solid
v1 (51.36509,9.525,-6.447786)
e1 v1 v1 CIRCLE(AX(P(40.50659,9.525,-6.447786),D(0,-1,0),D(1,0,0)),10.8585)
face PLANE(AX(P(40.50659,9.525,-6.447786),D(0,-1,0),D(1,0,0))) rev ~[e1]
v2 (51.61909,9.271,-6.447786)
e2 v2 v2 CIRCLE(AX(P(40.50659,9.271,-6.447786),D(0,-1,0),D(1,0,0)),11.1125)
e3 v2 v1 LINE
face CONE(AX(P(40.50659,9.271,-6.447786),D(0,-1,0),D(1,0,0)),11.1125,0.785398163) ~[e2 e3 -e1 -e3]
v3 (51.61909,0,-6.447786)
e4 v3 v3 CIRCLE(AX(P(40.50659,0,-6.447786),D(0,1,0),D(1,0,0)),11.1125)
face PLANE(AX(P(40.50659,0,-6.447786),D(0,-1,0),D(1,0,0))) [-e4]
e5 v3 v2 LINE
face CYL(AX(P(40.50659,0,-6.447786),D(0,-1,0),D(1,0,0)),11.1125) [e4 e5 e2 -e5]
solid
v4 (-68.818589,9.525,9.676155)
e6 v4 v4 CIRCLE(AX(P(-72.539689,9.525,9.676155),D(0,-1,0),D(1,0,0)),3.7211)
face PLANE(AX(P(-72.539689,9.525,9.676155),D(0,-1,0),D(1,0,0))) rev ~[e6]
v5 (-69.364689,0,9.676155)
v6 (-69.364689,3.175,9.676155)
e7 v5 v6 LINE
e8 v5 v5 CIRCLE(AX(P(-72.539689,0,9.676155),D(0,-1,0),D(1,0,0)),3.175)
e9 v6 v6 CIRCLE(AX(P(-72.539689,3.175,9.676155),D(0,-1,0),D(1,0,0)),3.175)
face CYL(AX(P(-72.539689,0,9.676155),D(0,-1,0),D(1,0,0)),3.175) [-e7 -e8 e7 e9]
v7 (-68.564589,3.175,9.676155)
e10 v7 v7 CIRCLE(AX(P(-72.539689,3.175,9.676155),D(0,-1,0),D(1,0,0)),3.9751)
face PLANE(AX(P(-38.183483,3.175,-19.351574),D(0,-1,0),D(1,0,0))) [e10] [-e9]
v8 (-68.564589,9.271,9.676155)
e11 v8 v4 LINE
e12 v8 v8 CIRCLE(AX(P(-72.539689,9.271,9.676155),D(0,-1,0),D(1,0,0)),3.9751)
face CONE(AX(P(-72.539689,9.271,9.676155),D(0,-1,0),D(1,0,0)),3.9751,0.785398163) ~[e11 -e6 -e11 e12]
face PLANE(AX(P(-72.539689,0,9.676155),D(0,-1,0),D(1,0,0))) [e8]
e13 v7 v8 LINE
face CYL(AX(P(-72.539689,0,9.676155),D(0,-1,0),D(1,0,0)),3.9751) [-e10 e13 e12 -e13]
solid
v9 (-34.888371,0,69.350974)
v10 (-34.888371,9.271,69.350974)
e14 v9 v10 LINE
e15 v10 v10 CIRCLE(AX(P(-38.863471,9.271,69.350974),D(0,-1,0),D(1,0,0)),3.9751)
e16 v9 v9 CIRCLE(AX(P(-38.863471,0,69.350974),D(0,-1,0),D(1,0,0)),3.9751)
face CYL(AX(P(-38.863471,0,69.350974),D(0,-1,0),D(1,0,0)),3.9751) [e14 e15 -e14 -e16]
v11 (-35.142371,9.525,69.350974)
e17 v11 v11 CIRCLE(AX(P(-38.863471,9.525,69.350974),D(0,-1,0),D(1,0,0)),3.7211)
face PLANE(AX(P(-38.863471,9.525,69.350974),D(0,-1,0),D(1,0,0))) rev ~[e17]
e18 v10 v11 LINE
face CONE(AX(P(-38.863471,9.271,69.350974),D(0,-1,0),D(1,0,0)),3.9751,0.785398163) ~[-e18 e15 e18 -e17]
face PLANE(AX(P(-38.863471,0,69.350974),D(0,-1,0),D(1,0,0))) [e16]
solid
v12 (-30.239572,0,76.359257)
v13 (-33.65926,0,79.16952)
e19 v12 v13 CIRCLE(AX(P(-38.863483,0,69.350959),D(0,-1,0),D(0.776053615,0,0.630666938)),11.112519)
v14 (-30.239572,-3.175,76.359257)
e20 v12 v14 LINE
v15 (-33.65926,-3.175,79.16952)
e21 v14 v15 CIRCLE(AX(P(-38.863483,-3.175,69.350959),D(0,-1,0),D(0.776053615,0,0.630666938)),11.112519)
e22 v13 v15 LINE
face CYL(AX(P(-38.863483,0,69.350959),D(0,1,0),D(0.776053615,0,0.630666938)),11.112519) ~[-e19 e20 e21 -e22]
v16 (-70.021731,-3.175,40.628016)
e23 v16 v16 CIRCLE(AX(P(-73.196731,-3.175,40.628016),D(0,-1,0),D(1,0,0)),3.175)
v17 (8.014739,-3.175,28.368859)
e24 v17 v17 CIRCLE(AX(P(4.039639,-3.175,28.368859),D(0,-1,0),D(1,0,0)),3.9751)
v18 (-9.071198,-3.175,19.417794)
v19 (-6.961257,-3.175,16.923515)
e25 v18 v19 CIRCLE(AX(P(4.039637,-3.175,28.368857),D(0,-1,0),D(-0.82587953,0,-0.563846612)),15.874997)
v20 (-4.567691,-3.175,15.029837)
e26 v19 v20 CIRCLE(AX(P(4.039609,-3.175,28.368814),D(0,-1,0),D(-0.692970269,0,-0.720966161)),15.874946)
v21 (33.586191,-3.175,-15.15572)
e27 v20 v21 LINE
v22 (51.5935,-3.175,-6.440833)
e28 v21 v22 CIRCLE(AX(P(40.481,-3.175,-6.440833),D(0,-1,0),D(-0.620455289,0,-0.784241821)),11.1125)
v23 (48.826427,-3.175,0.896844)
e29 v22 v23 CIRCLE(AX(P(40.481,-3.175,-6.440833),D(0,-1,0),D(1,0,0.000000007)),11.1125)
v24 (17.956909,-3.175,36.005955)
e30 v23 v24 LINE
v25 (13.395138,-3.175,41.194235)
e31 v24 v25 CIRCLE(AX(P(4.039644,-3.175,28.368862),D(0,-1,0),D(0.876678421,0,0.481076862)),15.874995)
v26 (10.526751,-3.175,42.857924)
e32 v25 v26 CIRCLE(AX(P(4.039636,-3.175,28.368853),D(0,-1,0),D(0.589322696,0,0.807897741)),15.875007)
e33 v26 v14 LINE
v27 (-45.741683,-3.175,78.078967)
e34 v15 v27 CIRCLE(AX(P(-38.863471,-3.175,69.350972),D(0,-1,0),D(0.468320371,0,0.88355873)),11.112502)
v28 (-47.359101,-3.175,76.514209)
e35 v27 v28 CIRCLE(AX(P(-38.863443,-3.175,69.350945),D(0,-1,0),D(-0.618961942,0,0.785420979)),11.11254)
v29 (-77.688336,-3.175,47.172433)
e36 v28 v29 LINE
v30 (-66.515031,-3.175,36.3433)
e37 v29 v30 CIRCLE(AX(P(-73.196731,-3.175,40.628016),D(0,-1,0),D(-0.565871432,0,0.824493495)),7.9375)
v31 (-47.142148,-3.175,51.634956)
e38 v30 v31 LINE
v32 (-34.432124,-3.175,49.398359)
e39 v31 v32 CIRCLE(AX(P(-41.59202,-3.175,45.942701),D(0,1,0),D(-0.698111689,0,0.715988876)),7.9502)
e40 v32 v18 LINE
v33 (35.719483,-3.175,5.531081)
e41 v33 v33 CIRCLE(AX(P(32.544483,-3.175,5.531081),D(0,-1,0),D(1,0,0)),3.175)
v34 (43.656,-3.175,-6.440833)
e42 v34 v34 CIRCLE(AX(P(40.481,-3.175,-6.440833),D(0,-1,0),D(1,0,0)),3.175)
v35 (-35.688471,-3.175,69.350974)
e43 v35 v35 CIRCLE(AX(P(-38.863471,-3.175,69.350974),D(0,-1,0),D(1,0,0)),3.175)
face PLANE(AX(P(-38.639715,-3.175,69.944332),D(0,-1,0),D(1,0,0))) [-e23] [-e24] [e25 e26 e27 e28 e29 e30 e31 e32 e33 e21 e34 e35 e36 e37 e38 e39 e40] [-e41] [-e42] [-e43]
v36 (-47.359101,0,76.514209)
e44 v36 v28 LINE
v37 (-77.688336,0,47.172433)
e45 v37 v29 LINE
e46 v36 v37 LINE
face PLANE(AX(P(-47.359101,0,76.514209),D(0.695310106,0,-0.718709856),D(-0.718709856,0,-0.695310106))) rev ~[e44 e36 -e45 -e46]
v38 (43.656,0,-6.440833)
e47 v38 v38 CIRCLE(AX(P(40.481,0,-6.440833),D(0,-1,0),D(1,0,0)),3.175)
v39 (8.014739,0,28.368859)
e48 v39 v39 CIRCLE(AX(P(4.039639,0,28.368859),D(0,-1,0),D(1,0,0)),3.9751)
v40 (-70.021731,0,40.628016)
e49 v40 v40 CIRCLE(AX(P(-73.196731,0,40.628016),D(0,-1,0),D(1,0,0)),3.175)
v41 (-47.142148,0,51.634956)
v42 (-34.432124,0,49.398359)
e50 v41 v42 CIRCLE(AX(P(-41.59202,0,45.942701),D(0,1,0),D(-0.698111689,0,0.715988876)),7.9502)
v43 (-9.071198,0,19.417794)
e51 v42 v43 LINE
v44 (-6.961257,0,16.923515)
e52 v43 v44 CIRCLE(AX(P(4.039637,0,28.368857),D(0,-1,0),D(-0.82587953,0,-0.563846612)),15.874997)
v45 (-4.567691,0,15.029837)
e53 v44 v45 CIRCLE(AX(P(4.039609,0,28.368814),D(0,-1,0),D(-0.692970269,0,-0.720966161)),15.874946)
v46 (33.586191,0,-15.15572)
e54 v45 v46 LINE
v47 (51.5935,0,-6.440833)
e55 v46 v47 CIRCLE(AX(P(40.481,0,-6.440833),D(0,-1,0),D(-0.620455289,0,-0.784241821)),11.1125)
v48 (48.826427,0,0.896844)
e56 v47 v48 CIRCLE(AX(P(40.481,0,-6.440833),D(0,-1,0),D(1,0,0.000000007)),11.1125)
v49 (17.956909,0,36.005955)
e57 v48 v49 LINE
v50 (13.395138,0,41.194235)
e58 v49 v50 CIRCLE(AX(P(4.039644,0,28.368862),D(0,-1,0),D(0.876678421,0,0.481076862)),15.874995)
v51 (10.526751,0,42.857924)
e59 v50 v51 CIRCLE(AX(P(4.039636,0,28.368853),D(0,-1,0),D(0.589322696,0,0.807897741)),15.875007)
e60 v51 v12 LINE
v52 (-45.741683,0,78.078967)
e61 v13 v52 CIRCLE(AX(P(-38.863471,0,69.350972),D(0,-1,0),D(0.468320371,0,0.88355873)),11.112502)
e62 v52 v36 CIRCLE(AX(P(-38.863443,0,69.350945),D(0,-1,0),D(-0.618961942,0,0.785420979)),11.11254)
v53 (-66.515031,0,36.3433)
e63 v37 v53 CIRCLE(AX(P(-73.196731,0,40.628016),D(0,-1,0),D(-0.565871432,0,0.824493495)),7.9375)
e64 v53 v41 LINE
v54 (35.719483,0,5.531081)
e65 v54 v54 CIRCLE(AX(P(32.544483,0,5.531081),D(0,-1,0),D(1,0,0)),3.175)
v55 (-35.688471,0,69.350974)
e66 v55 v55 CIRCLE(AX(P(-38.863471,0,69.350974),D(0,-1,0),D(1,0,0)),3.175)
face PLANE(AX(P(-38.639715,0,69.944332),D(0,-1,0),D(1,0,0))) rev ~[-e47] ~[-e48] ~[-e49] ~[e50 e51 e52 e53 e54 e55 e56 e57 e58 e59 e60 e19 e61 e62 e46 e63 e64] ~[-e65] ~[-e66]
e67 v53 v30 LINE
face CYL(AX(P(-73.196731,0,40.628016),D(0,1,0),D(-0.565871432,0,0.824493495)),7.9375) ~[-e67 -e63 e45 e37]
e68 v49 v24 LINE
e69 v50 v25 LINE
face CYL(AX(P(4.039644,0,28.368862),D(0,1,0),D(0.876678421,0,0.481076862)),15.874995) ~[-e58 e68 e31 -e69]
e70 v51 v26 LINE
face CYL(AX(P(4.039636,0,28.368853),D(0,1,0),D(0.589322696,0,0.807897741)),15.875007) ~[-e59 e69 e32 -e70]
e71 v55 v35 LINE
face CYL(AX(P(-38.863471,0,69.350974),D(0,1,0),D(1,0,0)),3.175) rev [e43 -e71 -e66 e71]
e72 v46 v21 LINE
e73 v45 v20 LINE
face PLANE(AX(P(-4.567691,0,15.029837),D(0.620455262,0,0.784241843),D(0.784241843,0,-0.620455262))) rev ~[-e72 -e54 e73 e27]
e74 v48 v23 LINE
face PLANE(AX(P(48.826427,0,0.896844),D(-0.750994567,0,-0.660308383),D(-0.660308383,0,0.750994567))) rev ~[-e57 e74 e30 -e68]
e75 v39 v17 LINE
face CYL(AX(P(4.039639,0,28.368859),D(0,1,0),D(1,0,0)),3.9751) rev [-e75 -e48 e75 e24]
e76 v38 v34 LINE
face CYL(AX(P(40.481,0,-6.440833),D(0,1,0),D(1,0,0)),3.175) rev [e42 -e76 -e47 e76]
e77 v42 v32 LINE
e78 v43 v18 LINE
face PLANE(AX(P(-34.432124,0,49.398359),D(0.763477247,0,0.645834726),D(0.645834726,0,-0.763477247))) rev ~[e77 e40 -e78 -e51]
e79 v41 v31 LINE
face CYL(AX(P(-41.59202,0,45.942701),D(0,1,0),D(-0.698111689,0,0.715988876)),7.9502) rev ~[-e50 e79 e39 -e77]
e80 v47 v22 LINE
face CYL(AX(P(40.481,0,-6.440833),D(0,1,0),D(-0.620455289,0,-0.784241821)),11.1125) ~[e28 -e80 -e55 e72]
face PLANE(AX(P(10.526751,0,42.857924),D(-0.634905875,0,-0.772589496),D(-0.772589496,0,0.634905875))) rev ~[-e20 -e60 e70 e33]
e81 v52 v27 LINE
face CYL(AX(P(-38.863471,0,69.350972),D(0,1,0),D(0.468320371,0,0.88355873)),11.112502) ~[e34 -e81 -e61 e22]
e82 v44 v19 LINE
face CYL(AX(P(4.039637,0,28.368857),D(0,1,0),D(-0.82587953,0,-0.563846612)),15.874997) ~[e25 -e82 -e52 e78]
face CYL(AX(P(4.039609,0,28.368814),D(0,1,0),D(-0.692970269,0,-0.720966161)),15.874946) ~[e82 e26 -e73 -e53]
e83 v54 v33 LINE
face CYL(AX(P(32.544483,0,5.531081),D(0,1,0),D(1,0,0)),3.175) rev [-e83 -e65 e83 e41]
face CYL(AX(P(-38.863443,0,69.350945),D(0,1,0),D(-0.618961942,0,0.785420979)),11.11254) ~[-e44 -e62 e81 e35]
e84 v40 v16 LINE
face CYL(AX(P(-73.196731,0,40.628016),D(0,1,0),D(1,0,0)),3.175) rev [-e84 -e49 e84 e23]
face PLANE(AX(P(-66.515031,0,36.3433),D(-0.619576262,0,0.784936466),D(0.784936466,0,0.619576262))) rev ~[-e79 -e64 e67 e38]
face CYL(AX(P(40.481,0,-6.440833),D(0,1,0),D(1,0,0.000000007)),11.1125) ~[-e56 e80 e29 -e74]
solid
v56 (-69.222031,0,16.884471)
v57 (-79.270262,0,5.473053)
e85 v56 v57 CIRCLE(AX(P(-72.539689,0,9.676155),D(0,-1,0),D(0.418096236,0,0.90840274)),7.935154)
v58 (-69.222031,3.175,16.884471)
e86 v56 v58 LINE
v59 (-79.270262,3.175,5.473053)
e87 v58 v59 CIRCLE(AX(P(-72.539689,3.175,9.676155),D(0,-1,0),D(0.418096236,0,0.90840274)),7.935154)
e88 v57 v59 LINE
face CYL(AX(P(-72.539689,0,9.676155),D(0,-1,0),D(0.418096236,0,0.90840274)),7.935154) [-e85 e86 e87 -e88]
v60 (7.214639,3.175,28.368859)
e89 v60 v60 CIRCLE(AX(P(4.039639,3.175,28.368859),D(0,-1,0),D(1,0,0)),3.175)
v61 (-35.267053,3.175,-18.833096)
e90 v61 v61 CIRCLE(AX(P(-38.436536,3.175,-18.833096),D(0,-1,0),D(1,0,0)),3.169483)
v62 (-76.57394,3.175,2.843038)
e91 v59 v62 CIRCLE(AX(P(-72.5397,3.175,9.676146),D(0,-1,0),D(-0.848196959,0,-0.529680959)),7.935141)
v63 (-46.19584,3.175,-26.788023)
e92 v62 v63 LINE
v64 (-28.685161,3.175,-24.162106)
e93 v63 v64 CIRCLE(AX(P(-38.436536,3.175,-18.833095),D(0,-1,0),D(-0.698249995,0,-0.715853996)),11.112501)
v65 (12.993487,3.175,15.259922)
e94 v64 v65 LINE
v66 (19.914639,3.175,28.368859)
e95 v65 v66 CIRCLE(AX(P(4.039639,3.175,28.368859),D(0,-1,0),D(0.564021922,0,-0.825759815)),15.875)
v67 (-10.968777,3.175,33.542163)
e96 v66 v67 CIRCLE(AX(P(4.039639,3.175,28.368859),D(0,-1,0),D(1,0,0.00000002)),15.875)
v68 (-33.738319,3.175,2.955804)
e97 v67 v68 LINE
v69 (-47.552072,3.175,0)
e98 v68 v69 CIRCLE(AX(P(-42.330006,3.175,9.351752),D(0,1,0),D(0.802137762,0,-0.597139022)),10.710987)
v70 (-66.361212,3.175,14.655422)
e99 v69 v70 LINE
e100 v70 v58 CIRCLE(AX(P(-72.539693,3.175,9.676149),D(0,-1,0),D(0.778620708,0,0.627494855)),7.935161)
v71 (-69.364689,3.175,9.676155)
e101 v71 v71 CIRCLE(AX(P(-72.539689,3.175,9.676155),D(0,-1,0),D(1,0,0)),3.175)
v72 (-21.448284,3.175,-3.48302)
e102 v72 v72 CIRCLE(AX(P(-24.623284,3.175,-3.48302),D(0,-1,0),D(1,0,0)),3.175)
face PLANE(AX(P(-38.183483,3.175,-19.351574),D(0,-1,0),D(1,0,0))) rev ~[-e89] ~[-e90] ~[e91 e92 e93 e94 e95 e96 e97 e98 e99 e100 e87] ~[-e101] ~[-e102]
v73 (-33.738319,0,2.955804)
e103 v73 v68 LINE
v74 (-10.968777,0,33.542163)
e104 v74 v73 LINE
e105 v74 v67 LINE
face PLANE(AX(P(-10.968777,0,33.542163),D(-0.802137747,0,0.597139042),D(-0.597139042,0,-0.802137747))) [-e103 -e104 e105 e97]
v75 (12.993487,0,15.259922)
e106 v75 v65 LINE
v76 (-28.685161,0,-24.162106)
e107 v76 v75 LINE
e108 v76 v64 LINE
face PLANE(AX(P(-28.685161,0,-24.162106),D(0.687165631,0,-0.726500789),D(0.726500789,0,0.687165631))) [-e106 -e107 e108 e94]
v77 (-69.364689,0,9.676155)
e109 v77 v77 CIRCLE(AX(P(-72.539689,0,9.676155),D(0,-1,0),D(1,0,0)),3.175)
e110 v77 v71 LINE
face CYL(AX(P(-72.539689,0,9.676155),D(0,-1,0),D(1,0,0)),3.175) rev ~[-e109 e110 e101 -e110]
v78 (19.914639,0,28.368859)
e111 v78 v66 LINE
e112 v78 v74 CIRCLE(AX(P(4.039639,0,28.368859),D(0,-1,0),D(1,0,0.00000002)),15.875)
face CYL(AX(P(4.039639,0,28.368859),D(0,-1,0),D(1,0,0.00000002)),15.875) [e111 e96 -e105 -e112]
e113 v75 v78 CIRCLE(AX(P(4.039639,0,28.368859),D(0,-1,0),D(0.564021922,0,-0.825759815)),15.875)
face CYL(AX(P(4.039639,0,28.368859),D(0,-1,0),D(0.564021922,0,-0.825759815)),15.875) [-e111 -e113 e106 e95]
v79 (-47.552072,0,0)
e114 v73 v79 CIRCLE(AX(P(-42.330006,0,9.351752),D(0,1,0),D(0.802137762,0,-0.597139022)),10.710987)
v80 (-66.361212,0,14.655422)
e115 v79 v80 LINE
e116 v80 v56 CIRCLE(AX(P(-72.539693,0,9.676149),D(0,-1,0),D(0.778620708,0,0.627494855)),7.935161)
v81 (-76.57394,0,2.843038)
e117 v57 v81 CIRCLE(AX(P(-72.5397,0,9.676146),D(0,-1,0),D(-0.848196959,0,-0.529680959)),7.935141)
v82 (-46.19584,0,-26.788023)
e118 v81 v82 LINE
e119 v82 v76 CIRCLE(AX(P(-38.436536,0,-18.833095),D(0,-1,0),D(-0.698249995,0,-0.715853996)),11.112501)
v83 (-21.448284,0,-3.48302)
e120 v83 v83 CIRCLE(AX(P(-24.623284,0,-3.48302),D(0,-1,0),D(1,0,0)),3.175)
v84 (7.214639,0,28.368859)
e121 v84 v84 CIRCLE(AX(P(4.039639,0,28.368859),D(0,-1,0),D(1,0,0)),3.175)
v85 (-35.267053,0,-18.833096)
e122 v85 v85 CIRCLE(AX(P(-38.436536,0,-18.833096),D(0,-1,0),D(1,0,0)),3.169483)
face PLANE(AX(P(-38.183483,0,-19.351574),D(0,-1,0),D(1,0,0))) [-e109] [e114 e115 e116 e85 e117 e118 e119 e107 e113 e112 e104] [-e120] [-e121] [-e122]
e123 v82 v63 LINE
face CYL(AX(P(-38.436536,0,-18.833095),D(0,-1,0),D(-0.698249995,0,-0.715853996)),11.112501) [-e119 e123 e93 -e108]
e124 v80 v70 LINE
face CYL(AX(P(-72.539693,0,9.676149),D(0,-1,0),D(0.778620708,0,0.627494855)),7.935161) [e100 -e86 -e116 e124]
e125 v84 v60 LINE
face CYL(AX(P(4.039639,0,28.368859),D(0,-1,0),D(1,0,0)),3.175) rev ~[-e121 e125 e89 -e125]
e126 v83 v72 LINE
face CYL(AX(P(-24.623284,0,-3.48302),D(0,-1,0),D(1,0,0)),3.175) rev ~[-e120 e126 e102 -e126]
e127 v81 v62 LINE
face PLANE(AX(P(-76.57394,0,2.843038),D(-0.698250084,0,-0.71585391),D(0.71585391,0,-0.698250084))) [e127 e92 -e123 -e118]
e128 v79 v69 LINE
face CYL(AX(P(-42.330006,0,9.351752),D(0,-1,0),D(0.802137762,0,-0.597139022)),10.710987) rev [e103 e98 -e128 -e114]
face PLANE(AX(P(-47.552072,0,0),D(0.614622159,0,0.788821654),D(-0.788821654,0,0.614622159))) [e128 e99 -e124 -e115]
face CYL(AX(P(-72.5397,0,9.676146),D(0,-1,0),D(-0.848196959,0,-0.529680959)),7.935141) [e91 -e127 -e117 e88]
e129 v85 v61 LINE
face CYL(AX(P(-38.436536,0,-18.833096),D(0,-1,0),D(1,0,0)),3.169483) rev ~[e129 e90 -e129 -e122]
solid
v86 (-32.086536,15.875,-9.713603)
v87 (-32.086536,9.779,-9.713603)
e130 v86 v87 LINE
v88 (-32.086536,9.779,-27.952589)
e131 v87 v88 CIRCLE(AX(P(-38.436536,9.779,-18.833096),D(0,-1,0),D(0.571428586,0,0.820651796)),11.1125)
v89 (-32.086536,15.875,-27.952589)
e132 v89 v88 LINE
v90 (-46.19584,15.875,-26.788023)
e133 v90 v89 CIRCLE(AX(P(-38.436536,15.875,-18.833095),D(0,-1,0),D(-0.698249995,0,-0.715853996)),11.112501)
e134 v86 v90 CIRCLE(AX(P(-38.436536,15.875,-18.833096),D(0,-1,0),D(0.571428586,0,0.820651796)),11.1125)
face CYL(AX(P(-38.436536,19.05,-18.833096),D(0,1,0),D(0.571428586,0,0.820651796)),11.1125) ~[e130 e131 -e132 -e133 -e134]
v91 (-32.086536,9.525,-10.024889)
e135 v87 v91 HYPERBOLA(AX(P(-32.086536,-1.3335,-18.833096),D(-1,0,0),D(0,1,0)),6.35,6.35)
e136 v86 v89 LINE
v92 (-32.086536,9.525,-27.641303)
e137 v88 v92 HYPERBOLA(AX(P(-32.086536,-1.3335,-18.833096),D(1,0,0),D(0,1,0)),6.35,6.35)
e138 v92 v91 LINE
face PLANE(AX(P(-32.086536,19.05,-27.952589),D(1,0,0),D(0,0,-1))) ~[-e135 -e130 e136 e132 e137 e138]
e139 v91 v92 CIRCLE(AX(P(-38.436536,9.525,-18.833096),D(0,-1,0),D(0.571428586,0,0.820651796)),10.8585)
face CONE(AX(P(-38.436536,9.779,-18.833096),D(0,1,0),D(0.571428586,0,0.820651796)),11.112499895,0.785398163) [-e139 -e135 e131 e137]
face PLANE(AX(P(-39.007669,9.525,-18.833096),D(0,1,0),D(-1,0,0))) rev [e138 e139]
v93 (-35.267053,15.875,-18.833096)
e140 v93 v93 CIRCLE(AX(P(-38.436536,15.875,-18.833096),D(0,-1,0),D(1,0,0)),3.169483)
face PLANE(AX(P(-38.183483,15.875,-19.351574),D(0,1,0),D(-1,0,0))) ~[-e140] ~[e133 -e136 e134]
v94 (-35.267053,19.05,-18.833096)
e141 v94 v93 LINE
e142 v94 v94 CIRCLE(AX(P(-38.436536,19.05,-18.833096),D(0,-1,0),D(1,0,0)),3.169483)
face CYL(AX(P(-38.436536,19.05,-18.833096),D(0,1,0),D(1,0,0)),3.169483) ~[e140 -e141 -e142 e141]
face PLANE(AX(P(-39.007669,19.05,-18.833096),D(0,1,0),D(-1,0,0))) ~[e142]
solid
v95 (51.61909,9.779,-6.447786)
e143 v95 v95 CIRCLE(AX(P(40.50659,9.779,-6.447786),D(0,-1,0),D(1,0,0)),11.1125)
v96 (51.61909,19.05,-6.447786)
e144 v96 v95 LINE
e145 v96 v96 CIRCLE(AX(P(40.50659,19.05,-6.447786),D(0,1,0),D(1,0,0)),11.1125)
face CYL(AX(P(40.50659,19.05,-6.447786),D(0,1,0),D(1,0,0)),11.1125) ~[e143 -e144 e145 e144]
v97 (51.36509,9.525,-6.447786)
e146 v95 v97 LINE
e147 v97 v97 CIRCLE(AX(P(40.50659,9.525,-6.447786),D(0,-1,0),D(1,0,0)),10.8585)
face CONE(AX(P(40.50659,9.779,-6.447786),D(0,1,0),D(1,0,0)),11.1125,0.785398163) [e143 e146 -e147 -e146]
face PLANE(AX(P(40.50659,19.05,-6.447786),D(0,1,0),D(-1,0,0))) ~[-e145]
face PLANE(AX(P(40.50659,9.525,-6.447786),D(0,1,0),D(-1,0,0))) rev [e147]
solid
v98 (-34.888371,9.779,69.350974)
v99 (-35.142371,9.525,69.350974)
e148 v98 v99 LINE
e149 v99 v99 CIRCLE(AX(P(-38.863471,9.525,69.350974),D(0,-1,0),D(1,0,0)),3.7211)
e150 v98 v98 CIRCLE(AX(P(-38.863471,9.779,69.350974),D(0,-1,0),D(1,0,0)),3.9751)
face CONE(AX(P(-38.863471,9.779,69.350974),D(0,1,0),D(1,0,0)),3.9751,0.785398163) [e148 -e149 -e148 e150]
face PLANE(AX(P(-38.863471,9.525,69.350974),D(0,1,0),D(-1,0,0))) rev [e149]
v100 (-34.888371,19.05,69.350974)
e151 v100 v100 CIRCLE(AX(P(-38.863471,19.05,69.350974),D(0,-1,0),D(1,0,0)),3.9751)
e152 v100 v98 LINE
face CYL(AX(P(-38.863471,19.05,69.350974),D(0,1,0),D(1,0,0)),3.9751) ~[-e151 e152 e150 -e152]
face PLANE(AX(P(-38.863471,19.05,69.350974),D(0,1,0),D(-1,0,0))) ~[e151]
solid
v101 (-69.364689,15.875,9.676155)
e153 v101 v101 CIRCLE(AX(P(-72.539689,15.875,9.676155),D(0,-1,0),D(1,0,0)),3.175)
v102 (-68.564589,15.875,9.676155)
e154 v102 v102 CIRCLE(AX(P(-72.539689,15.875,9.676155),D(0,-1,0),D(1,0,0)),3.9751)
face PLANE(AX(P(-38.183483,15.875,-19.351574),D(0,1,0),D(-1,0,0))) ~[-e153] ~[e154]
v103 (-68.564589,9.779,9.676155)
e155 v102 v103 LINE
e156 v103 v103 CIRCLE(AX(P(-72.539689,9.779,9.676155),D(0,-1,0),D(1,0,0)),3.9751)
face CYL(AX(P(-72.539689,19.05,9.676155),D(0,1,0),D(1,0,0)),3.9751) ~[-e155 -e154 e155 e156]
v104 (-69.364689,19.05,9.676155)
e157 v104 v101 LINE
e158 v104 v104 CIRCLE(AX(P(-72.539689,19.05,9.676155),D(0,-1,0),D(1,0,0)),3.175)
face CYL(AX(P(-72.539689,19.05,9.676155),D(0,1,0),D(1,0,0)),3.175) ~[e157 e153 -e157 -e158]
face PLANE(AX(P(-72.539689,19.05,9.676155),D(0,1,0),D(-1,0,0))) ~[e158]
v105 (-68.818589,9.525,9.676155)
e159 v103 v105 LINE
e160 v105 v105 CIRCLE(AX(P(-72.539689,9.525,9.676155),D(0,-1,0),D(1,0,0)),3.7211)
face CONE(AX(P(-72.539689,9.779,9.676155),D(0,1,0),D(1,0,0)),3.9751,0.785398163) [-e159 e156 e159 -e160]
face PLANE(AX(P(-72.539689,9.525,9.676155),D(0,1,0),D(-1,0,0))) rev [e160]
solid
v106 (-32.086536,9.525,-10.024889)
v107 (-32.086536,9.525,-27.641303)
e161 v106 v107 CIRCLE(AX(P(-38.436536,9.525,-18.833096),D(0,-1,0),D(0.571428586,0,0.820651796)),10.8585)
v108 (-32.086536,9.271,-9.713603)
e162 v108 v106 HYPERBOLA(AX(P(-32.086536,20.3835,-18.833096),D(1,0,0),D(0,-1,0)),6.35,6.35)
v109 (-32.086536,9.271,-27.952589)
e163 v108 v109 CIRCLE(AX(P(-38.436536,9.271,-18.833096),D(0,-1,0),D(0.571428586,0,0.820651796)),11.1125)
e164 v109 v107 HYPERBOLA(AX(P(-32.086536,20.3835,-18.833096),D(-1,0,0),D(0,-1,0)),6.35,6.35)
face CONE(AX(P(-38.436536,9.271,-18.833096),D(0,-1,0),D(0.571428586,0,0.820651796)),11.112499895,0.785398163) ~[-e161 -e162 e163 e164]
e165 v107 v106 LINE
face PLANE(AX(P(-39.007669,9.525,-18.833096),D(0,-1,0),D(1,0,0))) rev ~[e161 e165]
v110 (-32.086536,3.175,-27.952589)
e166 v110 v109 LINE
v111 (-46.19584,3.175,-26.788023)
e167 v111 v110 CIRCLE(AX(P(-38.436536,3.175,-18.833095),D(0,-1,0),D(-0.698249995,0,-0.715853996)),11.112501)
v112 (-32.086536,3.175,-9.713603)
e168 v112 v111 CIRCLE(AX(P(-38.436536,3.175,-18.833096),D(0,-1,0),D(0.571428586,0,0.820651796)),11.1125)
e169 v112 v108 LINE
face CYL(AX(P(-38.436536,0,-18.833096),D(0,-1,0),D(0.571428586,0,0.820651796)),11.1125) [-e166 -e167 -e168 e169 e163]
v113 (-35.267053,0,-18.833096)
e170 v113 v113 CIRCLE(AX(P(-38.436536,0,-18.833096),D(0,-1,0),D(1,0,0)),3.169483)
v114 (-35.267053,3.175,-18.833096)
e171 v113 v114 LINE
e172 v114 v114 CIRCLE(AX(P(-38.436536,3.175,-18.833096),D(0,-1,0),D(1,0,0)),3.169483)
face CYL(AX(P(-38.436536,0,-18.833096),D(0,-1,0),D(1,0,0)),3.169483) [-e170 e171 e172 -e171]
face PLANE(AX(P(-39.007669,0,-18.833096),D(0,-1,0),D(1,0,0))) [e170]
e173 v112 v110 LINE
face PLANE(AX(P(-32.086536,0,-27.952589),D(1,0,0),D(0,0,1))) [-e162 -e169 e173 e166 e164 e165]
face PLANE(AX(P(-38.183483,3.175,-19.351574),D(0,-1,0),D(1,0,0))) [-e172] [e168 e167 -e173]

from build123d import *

# Parameters (mm, degrees)
F0_R     = 3.175
F0_R_2   = 3.9751
F2_DEPTH = 3.175
F1_R     = 3.169483
F1_R_2   = 3.175
F3_DEPTH = 3.175
F4_R     = 3.9751
F4_R_2   = 11.1125
F6_DEPTH = 9.525
F8_SIZE  = 0.254


with BuildPart() as f2:
    # F0 (on Front) → F2 (new body)
    with BuildSketch(Plane.XZ):
        with BuildLine():
            Line((-30.239572, 76.359257), (-33.65926, 79.16952))
            ThreePointArc((-33.65926, 79.16952), (-39.862419, 80.418483), (-45.741683, 78.078967))
            Line((-45.741683, 78.078967), (-47.359101, 76.514209))
            ThreePointArc((-47.359101, 76.514209), (-42.676604, 58.913174), (-27.750971, 69.350974))
            ThreePointArc((-27.750971, 69.350974), (-28.391587, 73.069481), (-30.239572, 76.359257))
        make_face()
        with Locations((-38.863471, 69.350974)):
            Circle(F0_R, mode=Mode.SUBTRACT)
        with BuildLine():
            ThreePointArc((-30.239572, 76.359257), (-31.80808, 77.936375), (-33.65926, 79.16952))
            Line((-33.65926, 79.16952), (-30.239572, 76.359257))
        make_face()
        with BuildLine():
            Line((-47.359101, 76.514209), (-45.741683, 78.078967))
            ThreePointArc((-45.741683, 78.078967), (-46.590105, 77.337637), (-47.359101, 76.514209))
        make_face()
        with BuildLine():
            Line((10.526751, 42.857924), (-30.239572, 76.359257))
            ThreePointArc((-30.239572, 76.359257), (-28.391587, 73.069481), (-27.750971, 69.350974))
            ThreePointArc((-27.750971, 69.350974), (-42.676604, 58.913174), (-47.359101, 76.514209))
            Line((-47.359101, 76.514209), (-77.688336, 47.172433))
            ThreePointArc((-77.688336, 47.172433), (-69.498637, 47.651406), (-65.259231, 40.628016))
            ThreePointArc((-65.259231, 40.628016), (-65.579648, 38.395538), (-66.515031, 36.3433))
            Line((-66.515031, 36.3433), (-47.142148, 51.634956))
            ThreePointArc((-47.142148, 51.634956), (-40.214185, 53.772596), (-34.432124, 49.398359))
            Line((-34.432124, 49.398359), (-9.071198, 19.417794))
            ThreePointArc((-9.071198, 19.417794), (-8.139374, 38.551554), (10.526751, 42.857924))
        make_face()
        with BuildLine():
            ThreePointArc((13.395138, 41.194235), (12.004502, 42.101178), (10.526751, 42.857924))
            ThreePointArc((10.526751, 42.857924), (-8.139374, 38.551554), (-9.071198, 19.417794))
            Line((-9.071198, 19.417794), (-6.961257, 16.923515))
            Line((-6.961257, 16.923515), (-4.567691, 15.029837))
            ThreePointArc((-4.567691, 15.029837), (11.634844, 14.428684), (19.914639, 28.368859))
            ThreePointArc((19.914639, 28.368859), (19.41742, 32.310874), (17.956909, 36.005955))
            Line((17.956909, 36.005955), (13.395138, 41.194235))
        make_face()
        with Locations((4.039639, 28.368859)):
            Circle(F0_R_2, mode=Mode.SUBTRACT)
        with BuildLine():
            ThreePointArc((-65.259231, 40.628016), (-69.498637, 47.651406), (-77.688336, 47.172433))
            ThreePointArc((-77.688336, 47.172433), (-78.72092, 34.928257), (-66.515031, 36.3433))
            ThreePointArc((-66.515031, 36.3433), (-65.579648, 38.395538), (-65.259231, 40.628016))
        make_face()
        with Locations((-73.196731, 40.628016)):
            Circle(F0_R, mode=Mode.SUBTRACT)
        with BuildLine():
            ThreePointArc((17.956909, 36.005955), (15.961678, 38.851255), (13.395138, 41.194235))
            Line((13.395138, 41.194235), (17.956909, 36.005955))
        make_face()
        with BuildLine():
            Line((-6.961257, 16.923515), (-9.071198, 19.417794))
            ThreePointArc((-9.071198, 19.417794), (-8.080562, 18.116233), (-6.961257, 16.923515))
        make_face()
        with BuildLine():
            Line((48.826427, 0.896844), (17.956909, 36.005955))
            ThreePointArc((17.956909, 36.005955), (19.41742, 32.310874), (19.914639, 28.368859))
            ThreePointArc((19.914639, 28.368859), (11.634844, 14.428684), (-4.567691, 15.029837))
            Line((-4.567691, 15.029837), (33.586191, -15.15572))
            ThreePointArc((33.586191, -15.15572), (32.422013, 1.210336), (48.826427, 0.896844))
        make_face()
        with Locations((32.544483, 5.531081)):
            Circle(F0_R, mode=Mode.SUBTRACT)
        with BuildLine():
            Line((-4.567691, 15.029837), (-6.961257, 16.923515))
            ThreePointArc((-6.961257, 16.923515), (-5.810089, 15.91902), (-4.567691, 15.029837))
        make_face()
        with BuildLine():
            ThreePointArc((51.5935, -6.440833), (50.878745, -2.519793), (48.826427, 0.896844))
            ThreePointArc((48.826427, 0.896844), (32.422013, 1.210336), (33.586191, -15.15572))
            ThreePointArc((33.586191, -15.15572), (45.321924, -16.443488), (51.5935, -6.440833))
        make_face()
        with Locations((40.481, -6.440833)):
            Circle(F0_R, mode=Mode.SUBTRACT)
    extrude(amount=F2_DEPTH)


with BuildPart() as f3:
    # F1 (on Front) → F3 (new body)
    with BuildSketch(Plane.XZ):
        with BuildLine():
            ThreePointArc((-28.685161, -24.162106), (-27.669693, -21.583142), (-27.324036, -18.833096))
            ThreePointArc((-27.324036, -18.833096), (-42.752923, -8.593152), (-46.19584, -26.788023))
            ThreePointArc((-46.19584, -26.788023), (-36.788523, -29.822714), (-28.685161, -24.162106))
        make_face()
        with Locations((-38.436536, -18.833096)):
            Circle(F1_R, mode=Mode.SUBTRACT)
        with BuildLine():
            ThreePointArc((-46.19584, -26.788023), (-42.752923, -8.593152), (-27.324036, -18.833096))
            ThreePointArc((-27.324036, -18.833096), (-27.669693, -21.583142), (-28.685161, -24.162106))
            Line((-28.685161, -24.162106), (12.993487, 15.259922))
            ThreePointArc((12.993487, 15.259922), (-5.589719, 15.747802), (-10.968777, 33.542163))
            Line((-10.968777, 33.542163), (-33.738319, 2.955804))
            ThreePointArc((-33.738319, 2.955804), (-40.08885, -1.122142), (-47.552072, 0))
            Line((-47.552072, 0), (-66.361212, 14.655422))
            ThreePointArc((-66.361212, 14.655422), (-65.05658, 12.316184), (-64.604535, 9.676155))
            ThreePointArc((-64.604535, 9.676155), (-68.60559, 2.78489), (-76.57394, 2.843038))
            Line((-76.57394, 2.843038), (-46.19584, -26.788023))
        make_face()
        with Locations((-24.623284, -3.48302)):
            Circle(F1_R_2, mode=Mode.SUBTRACT)
        with BuildLine():
            Line((-79.270262, 5.473053), (-76.57394, 2.843038))
            ThreePointArc((-76.57394, 2.843038), (-68.60559, 2.78489), (-64.604535, 9.676155))
            ThreePointArc((-64.604535, 9.676155), (-65.05658, 12.316184), (-66.361212, 14.655422))
            Line((-66.361212, 14.655422), (-69.222031, 16.884471))
            ThreePointArc((-69.222031, 16.884471), (-78.495116, 14.920158), (-79.270262, 5.473053))
        make_face()
        with Locations((-72.539689, 9.676155)):
            Circle(F1_R_2, mode=Mode.SUBTRACT)
        with BuildLine():
            ThreePointArc((-79.270262, 5.473053), (-78.080412, 3.995744), (-76.57394, 2.843038))
            Line((-76.57394, 2.843038), (-79.270262, 5.473053))
        make_face()
        with BuildLine():
            ThreePointArc((-10.968777, 33.542163), (-5.589719, 15.747802), (12.993487, 15.259922))
            ThreePointArc((12.993487, 15.259922), (18.078121, 20.956933), (19.914639, 28.368859))
            ThreePointArc((19.914639, 28.368859), (6.66233, 44.025714), (-10.968777, 33.542163))
        make_face()
        with Locations((4.039639, 28.368859)):
            Circle(F1_R_2, mode=Mode.SUBTRACT)
        with BuildLine():
            ThreePointArc((-66.361212, 14.655422), (-67.662568, 15.935577), (-69.222031, 16.884471))
            Line((-69.222031, 16.884471), (-66.361212, 14.655422))
        make_face()
    extrude(amount=-F3_DEPTH)


with BuildPart() as f6:
    # F4 (on Front) → F6 (new body, through all)
    with BuildSketch(Plane.XZ):
        with Locations((-38.863471, 69.350974)):
            Circle(F4_R)
        with Locations((40.50659, -6.447786)):
            Circle(F4_R_2)
        with BuildLine():
            Line((-32.086536, -27.952589), (-32.086536, -9.713603))
            ThreePointArc((-32.086536, -9.713603), (-49.549036, -18.833096), (-32.086536, -27.952589))
        make_face()
        with Locations((-72.539689, 9.676155)):
            Circle(F4_R)
    extrude(amount=-F6_DEPTH)

    # F7: cut F2, F3
    add(f2.part, mode=Mode.SUBTRACT)
    add(f3.part, mode=Mode.SUBTRACT)

    # F8
    f8_edges = [f6.edges().sort_by_distance(p)[0] for p in [
        (-42.838571, 9.525, 69.350974),
        (-76.514789, 9.525, 9.676155),
        (-49.549036, 9.525, -18.833096),
        (29.39409, 9.525, -6.447786),
    ]]
    chamfer(f8_edges, length=F8_SIZE)


with BuildPart() as f9_1:
    # F9: instance of F6
    add(f6.part.mirror(Plane.XZ.offset(-9.525)))


solid = Compound([f2.part, f3.part, f6.part, f9_1.part])
